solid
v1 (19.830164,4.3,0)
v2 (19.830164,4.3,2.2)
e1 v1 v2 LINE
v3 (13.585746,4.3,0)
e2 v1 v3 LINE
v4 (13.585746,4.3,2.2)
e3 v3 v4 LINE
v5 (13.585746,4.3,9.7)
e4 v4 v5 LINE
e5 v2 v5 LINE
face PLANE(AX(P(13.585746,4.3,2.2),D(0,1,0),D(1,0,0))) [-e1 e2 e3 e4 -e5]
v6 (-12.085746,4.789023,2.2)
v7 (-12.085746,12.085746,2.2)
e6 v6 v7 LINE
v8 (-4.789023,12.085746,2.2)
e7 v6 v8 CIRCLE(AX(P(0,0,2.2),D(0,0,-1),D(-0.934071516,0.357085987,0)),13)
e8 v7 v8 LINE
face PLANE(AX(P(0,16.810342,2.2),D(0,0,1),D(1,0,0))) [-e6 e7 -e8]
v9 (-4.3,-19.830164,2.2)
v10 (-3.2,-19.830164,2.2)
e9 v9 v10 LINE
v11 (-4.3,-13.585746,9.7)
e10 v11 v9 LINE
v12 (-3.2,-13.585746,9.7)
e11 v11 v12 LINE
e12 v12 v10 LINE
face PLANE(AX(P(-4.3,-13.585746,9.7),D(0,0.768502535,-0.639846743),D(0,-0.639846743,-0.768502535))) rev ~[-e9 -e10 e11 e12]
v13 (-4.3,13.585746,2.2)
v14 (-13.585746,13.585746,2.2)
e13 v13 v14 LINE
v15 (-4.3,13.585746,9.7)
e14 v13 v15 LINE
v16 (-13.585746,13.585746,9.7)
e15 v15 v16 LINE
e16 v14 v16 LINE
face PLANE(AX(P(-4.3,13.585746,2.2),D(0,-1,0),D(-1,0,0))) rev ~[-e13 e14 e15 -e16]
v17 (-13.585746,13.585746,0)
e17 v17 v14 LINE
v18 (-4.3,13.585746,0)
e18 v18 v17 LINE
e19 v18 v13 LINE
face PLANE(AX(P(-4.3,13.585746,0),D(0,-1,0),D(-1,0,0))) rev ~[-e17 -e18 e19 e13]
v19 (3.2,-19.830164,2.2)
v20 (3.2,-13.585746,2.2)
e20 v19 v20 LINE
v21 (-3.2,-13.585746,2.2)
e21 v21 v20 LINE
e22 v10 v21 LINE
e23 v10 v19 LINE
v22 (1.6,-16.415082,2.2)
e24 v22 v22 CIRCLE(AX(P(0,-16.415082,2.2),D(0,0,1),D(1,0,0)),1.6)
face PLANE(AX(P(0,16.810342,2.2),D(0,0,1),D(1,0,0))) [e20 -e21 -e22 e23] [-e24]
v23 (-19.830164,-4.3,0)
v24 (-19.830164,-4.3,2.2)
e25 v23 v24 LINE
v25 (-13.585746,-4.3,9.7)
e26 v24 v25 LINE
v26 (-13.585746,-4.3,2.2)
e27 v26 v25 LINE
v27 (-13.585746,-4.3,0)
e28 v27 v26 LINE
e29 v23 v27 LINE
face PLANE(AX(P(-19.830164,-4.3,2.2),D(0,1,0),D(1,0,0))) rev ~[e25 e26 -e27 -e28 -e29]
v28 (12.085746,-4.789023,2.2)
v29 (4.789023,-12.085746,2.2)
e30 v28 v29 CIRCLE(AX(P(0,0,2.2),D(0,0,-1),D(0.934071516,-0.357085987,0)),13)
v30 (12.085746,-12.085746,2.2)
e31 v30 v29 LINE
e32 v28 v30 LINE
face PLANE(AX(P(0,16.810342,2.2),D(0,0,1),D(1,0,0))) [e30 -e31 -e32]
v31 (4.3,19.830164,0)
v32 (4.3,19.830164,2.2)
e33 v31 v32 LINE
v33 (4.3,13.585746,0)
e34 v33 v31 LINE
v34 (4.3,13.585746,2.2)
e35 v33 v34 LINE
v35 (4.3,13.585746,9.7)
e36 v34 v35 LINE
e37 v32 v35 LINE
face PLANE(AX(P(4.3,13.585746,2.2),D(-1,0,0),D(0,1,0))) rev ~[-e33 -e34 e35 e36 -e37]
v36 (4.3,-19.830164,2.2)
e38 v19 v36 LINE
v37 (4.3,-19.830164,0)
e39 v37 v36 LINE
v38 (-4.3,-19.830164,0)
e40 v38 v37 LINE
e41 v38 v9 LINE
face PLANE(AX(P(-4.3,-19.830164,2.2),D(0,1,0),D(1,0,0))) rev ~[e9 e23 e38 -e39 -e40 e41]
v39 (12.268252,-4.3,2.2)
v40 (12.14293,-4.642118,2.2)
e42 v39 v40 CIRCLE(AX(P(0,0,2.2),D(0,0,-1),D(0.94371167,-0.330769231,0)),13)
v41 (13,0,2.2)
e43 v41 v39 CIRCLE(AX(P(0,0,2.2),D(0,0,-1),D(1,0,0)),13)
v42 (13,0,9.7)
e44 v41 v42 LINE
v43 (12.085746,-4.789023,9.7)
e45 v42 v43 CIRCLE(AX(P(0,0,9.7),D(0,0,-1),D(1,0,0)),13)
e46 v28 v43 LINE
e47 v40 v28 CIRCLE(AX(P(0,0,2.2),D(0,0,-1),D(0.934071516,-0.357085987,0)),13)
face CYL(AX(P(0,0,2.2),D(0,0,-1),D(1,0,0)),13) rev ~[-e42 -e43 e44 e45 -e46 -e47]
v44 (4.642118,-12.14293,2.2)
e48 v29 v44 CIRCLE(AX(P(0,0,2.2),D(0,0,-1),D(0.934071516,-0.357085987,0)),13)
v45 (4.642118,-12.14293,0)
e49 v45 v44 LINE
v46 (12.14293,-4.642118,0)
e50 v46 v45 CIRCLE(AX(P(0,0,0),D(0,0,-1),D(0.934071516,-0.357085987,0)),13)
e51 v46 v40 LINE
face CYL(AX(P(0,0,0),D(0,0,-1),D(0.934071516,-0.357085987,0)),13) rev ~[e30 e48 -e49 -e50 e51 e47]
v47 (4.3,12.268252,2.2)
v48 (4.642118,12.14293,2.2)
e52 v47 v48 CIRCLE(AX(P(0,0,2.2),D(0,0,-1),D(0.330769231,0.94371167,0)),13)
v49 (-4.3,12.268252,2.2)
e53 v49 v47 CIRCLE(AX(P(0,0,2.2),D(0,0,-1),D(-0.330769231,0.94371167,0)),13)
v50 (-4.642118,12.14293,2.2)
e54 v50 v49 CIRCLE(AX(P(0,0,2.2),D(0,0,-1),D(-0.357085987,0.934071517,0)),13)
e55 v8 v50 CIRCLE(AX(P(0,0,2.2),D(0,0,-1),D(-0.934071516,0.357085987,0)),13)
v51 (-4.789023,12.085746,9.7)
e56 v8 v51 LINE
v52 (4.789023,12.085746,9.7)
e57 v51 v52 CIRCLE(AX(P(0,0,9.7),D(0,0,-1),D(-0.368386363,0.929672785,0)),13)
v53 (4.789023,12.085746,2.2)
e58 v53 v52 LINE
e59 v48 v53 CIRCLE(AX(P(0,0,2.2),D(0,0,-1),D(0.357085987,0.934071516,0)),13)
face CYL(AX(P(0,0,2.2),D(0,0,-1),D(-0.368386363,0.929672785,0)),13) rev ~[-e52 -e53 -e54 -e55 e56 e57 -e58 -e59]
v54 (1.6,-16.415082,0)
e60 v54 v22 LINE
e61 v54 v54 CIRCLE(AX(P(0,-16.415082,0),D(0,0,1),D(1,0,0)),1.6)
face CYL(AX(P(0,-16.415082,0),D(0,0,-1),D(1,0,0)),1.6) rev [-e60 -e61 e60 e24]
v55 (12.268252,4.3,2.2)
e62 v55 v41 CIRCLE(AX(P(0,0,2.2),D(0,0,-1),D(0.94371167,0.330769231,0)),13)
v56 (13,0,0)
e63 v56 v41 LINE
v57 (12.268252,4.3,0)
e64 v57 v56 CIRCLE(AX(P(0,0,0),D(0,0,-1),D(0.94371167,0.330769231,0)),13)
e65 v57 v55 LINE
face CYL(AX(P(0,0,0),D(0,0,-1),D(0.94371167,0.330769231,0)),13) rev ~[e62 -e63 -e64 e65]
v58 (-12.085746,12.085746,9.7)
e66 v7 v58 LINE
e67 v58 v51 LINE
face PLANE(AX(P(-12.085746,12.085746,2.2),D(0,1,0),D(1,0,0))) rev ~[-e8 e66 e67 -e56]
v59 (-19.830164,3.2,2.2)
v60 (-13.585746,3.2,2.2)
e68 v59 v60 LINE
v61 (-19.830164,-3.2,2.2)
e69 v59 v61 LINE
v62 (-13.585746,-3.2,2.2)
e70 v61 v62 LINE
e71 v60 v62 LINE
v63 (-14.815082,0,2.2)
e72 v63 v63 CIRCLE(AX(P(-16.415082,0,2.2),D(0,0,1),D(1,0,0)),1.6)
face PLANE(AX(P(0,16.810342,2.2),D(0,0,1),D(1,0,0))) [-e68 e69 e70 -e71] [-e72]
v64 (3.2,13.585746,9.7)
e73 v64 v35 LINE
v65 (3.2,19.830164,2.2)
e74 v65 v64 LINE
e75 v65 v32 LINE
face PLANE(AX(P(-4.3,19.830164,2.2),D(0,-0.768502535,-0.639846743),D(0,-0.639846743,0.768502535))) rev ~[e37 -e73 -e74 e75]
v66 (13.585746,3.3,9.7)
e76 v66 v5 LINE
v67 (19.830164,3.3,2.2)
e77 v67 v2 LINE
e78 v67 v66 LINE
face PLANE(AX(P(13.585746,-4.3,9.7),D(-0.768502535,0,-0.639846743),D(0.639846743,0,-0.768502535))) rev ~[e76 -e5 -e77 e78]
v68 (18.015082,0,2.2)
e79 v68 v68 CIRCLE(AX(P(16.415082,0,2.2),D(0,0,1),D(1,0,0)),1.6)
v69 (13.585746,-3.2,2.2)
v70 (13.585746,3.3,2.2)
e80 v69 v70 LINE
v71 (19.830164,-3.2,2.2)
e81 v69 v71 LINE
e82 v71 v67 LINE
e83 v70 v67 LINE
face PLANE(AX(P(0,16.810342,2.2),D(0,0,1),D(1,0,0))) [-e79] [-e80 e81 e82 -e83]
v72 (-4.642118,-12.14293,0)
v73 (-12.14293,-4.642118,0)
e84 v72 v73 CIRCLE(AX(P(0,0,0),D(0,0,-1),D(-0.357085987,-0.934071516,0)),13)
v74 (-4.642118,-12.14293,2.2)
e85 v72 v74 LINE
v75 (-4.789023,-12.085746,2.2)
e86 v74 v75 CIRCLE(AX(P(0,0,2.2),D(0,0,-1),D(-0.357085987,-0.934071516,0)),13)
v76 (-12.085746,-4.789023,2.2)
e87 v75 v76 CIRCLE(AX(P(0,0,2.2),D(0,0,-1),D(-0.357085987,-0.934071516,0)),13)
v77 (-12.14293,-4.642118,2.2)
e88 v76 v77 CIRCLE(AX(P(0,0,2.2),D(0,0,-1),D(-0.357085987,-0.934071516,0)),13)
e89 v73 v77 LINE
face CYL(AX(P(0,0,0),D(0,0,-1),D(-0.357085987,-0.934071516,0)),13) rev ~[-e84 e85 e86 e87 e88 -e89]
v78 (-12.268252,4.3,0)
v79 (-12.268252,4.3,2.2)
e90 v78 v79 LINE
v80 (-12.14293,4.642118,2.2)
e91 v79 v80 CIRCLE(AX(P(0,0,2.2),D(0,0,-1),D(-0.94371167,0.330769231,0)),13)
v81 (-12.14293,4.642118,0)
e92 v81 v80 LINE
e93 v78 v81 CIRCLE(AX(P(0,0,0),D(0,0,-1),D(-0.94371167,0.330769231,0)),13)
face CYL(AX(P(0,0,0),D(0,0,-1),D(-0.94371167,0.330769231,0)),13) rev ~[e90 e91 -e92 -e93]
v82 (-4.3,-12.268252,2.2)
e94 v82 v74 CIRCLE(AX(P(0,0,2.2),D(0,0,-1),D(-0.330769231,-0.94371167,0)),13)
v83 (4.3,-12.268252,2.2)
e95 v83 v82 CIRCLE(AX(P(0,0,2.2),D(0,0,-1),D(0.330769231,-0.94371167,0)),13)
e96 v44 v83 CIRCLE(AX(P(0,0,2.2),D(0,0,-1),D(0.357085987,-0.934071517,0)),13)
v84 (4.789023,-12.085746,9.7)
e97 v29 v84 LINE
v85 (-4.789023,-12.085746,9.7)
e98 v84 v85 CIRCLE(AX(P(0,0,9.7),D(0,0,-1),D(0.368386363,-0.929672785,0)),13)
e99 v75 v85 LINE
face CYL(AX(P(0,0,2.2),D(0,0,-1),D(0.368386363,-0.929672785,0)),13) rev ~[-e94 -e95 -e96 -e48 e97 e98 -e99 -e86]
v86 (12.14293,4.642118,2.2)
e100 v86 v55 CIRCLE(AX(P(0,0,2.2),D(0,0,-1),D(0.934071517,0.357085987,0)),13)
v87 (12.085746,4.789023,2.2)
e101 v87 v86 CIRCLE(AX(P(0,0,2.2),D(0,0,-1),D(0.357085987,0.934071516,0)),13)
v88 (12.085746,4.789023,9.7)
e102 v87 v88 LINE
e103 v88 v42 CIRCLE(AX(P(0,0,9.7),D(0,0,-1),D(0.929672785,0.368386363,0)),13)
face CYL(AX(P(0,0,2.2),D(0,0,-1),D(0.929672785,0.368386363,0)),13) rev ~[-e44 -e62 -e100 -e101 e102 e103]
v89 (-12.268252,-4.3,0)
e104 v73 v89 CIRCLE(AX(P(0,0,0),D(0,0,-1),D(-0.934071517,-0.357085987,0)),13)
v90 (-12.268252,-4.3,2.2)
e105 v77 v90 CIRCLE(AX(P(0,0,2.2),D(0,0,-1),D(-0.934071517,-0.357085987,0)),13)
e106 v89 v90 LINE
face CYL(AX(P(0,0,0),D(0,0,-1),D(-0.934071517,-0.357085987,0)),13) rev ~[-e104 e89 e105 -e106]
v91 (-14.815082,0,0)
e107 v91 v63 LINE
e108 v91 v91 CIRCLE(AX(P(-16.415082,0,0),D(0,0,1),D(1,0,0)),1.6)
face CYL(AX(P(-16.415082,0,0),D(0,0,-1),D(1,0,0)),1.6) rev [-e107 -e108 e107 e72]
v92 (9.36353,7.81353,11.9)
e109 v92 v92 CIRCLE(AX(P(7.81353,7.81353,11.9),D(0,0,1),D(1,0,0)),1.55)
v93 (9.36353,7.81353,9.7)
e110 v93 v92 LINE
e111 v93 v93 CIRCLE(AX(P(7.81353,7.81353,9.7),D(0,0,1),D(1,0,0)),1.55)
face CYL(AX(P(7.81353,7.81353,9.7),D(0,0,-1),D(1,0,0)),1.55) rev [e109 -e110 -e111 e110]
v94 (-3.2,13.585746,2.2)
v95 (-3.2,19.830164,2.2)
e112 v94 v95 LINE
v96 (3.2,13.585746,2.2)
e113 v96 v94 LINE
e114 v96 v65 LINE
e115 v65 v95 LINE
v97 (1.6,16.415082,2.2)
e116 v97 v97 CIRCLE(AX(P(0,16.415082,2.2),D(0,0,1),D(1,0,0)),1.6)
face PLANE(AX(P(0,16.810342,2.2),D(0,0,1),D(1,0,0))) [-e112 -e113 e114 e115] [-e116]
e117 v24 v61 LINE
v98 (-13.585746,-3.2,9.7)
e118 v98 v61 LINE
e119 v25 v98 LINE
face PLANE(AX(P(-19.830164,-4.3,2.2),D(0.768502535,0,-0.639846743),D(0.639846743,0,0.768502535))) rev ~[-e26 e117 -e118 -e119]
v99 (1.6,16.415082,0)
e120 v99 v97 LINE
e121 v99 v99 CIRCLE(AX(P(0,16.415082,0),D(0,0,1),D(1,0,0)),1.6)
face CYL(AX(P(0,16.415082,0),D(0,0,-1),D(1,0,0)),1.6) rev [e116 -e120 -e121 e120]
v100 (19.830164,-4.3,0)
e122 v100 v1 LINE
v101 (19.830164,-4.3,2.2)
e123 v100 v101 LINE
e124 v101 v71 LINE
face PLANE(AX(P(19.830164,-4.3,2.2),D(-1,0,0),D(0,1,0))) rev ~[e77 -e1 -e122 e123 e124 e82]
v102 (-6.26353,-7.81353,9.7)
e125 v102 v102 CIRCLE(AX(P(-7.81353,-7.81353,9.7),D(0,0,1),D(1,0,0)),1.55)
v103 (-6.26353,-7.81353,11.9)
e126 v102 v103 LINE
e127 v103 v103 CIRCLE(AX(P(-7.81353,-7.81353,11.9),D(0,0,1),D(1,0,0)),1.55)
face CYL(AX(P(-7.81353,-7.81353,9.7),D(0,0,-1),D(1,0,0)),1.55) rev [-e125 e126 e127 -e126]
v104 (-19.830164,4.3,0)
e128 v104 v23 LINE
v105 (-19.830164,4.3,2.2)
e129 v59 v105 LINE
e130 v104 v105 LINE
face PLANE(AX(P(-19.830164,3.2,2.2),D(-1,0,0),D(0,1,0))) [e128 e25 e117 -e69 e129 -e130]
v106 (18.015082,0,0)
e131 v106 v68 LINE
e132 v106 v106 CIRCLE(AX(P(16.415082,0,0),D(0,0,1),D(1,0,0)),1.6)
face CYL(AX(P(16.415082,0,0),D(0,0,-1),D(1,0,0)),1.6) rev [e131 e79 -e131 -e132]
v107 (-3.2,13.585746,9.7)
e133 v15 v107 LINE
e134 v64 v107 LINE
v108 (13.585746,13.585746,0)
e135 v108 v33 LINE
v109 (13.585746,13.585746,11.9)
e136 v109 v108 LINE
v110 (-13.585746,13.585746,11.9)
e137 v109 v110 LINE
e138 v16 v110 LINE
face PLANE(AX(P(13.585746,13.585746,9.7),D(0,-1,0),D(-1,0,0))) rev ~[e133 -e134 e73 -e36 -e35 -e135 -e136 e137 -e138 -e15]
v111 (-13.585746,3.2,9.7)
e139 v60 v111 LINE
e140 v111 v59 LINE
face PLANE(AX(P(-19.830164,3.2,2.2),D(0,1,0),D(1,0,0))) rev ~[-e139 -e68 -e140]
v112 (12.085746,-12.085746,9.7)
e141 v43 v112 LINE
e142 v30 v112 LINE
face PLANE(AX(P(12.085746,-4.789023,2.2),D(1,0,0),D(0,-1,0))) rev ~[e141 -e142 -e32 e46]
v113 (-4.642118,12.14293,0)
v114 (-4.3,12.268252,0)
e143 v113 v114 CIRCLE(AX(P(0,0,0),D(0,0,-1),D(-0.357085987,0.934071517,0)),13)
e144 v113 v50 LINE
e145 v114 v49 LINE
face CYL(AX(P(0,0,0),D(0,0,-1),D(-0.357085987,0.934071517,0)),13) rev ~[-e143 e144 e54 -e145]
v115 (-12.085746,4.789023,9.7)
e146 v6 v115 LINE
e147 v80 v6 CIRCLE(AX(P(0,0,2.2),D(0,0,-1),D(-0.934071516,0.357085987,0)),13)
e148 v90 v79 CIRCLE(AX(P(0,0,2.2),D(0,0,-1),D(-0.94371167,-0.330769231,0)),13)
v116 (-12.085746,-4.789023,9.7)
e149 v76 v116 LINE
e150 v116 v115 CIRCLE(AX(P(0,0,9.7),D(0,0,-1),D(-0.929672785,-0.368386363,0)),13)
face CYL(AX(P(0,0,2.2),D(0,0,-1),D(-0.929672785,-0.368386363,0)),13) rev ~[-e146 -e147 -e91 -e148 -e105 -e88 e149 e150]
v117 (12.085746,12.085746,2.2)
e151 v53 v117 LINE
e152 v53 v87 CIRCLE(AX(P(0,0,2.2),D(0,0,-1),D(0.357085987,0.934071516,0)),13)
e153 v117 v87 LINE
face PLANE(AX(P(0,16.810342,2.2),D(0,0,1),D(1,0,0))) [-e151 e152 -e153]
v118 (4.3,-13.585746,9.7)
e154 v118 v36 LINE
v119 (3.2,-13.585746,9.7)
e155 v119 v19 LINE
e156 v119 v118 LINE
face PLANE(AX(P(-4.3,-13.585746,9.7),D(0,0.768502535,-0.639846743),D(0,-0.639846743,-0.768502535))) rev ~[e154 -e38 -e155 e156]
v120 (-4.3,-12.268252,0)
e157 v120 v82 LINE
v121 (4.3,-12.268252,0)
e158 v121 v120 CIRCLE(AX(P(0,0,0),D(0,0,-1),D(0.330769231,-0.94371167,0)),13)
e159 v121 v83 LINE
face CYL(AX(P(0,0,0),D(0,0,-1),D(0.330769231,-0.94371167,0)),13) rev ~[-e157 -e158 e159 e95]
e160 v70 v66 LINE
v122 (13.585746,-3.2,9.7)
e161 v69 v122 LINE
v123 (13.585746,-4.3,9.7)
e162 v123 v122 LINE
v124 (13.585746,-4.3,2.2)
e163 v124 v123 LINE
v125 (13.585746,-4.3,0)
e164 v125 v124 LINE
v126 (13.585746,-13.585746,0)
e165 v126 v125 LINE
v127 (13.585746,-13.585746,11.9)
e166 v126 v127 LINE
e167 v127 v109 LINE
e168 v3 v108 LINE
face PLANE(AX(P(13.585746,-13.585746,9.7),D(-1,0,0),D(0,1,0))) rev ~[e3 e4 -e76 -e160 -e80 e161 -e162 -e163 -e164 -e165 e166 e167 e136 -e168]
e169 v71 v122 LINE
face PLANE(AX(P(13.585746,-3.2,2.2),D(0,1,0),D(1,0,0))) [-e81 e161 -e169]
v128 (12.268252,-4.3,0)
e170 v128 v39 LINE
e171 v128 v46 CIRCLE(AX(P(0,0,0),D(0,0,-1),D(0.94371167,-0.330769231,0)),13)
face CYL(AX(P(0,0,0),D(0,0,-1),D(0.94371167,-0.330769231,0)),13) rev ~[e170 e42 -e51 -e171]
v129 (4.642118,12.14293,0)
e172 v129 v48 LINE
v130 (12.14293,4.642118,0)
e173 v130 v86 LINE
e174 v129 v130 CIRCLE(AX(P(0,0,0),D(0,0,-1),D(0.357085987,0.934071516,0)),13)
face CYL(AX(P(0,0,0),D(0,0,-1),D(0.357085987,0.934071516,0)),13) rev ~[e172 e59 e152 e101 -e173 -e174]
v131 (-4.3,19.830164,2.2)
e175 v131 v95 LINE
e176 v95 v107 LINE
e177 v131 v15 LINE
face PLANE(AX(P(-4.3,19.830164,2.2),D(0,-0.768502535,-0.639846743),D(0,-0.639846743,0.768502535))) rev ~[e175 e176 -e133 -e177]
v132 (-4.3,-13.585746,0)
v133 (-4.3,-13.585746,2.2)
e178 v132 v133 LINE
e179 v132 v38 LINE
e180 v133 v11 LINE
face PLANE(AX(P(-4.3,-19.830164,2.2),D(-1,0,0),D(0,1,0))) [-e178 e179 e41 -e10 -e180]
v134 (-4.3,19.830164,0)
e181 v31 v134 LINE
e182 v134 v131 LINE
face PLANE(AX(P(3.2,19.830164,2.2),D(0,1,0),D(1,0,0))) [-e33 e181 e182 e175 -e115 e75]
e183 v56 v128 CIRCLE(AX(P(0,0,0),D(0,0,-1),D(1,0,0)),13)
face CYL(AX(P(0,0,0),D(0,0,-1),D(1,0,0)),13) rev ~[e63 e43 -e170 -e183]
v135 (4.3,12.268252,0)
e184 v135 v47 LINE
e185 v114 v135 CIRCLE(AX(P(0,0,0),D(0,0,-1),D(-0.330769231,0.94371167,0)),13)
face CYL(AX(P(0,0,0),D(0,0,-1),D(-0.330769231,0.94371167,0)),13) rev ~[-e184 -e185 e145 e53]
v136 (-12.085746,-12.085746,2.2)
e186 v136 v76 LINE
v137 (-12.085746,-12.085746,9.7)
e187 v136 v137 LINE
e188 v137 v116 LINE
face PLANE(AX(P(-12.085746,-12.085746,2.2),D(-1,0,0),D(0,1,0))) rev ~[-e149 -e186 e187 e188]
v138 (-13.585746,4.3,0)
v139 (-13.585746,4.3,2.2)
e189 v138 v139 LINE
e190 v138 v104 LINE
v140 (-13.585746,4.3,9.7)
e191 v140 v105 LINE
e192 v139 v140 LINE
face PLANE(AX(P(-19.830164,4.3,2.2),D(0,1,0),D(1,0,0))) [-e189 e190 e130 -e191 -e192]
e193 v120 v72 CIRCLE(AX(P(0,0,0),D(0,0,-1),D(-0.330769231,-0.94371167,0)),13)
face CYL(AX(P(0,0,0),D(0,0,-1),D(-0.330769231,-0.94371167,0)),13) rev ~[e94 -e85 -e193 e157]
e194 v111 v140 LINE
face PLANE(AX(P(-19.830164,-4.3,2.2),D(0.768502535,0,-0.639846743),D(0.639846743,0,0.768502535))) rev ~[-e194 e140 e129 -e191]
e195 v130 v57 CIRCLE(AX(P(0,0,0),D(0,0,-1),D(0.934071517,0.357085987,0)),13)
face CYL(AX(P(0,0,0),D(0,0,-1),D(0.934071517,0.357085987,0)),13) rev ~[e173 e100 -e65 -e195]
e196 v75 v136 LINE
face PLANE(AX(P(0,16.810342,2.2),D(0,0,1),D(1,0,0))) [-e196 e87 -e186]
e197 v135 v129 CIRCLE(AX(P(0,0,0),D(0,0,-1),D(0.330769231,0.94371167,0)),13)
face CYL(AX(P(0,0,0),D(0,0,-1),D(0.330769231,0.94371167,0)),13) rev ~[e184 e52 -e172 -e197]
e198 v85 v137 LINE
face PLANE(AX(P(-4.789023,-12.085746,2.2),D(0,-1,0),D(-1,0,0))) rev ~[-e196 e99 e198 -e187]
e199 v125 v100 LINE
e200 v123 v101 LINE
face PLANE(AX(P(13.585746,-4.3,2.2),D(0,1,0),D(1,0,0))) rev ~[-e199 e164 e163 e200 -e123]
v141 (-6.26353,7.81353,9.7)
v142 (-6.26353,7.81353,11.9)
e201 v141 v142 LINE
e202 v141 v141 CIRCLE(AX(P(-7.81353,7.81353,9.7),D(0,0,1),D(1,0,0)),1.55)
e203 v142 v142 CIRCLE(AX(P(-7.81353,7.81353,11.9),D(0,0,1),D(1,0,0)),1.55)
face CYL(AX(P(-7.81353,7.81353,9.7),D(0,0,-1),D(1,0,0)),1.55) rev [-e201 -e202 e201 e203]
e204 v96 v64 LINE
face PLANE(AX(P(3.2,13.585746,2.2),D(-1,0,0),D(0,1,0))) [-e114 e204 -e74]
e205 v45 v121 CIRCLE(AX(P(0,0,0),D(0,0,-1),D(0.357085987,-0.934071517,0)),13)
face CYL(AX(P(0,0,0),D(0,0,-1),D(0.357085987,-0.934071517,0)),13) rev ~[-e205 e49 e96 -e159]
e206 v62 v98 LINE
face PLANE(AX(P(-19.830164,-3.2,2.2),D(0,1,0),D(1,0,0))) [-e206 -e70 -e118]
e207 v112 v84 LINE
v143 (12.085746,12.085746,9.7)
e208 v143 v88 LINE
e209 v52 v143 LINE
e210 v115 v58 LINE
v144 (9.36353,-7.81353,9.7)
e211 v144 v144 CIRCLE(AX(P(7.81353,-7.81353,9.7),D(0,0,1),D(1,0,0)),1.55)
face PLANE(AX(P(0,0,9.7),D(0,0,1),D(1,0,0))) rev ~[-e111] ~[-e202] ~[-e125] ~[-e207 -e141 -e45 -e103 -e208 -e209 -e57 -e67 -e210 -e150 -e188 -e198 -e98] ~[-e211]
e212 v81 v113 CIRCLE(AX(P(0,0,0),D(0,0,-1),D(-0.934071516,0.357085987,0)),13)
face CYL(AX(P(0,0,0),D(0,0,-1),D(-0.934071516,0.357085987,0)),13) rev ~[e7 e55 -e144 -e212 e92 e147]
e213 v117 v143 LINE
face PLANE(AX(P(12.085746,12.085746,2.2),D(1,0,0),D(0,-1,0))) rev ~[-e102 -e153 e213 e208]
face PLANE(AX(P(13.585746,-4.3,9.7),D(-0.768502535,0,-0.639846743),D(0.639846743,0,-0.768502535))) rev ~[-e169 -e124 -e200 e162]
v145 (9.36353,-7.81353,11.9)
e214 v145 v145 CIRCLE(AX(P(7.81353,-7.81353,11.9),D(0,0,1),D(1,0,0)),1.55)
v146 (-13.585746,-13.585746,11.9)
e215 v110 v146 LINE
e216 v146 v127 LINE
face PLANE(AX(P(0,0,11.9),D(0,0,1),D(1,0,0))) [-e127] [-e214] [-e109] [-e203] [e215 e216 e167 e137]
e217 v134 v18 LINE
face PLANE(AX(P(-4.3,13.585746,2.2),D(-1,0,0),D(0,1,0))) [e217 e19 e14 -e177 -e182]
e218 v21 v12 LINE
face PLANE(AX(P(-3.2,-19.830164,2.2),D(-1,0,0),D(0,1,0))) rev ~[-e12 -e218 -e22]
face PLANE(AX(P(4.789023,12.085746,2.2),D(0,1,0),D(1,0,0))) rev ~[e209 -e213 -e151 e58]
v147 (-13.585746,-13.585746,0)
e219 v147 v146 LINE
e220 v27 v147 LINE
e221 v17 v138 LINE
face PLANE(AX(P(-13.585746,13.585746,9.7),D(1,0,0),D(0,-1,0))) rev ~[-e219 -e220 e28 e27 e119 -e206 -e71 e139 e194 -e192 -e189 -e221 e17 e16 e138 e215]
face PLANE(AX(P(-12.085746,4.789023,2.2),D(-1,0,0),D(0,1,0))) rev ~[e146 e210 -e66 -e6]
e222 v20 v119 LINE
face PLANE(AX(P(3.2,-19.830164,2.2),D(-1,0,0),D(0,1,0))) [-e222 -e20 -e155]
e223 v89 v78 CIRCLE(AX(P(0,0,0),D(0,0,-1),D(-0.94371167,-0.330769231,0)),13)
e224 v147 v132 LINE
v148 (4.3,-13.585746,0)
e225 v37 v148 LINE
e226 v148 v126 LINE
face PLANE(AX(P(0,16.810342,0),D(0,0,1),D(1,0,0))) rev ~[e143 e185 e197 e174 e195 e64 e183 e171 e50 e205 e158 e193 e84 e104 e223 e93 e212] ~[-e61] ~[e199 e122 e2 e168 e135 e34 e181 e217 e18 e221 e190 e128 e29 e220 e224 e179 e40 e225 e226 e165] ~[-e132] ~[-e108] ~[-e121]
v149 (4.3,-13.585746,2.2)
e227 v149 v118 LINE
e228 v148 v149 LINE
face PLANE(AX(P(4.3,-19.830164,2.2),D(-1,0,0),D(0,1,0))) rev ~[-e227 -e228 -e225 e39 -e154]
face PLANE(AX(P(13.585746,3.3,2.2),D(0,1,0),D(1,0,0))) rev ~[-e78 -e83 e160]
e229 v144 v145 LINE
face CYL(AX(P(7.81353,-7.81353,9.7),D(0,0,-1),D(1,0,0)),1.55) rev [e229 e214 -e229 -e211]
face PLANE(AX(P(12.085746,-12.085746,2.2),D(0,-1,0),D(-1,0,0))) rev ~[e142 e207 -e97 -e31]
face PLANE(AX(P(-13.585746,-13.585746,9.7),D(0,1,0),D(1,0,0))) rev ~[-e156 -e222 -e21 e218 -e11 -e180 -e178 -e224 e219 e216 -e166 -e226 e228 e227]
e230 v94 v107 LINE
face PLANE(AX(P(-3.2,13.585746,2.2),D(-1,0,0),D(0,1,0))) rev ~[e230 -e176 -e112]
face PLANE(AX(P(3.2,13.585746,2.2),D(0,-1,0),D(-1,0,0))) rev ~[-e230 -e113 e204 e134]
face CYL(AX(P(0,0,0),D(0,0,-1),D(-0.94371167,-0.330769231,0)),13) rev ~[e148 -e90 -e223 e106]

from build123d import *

# Parameters (mm, degrees)
F0_R      = 1.6
F1_DEPTH  = 2.2
F2_W      = 1.1
F2_H      = 6.2444173613
F2_W_2    = 6.2444173613
F2_H_2    = 1
F2_H_3    = 1.1
F3_DEPTH  = 7.5
F5_DEPTH  = 24.1311635683
F7_DEPTH  = 24.1311635683
F9_DEPTH  = 24.1311635683
F11_DEPTH = 24.1311635683
F12_R     = 1.55
F13_DEPTH = 2.2


with BuildPart() as f1:
    # F0 (on Top) → F1 (new body)
    with BuildSketch(Plane.XY):
        with BuildLine():
            ThreePointArc((-4.3, 13.585746207), (0, 14.25), (4.3, 13.585746207))
            Line((4.3, 13.585746207), (4.3, 19.8301635683))
            Line((4.3, 19.8301635683), (0, 19.8301635683))
            Line((0, 19.8301635683), (-4.3, 19.8301635683))
            Line((-4.3, 19.8301635683), (-4.3, 13.585746207))
        make_face()
        with Locations((0, 16.4150817841)):
            Circle(F0_R, mode=Mode.SUBTRACT)
        with BuildLine():
            Line((-7.4573291436, 12.1429297142), (-4.642117831, 12.1429297142))
            ThreePointArc((-4.642117831, 12.1429297142), (-4.4714979846, 12.2067893311), (-4.3, 12.2682517092))
            Line((-4.3, 12.2682517092), (-4.3, 13.585746207))
            ThreePointArc((-4.3, 13.585746207), (-5.9227634602, 12.9608399803), (-7.4573291436, 12.1429297142))
        make_face()
        with BuildLine():
            ThreePointArc((-4.3, 12.2682517092), (0, 13), (4.3, 12.2682517092))
            Line((4.3, 12.2682517092), (4.3, 13.585746207))
            ThreePointArc((4.3, 13.585746207), (0, 14.25), (-4.3, 13.585746207))
            Line((-4.3, 13.585746207), (-4.3, 12.2682517092))
        make_face()
        with BuildLine():
            ThreePointArc((4.3, 12.2682517092), (4.4714979846, 12.2067893311), (4.642117831, 12.1429297142))
            Line((4.642117831, 12.1429297142), (7.4573291436, 12.1429297142))
            ThreePointArc((7.4573291436, 12.1429297142), (5.9227634602, 12.9608399803), (4.3, 13.585746207))
            Line((4.3, 13.585746207), (4.3, 12.2682517092))
        make_face()
        with BuildLine():
            ThreePointArc((12.2682517092, 4.3), (12.8157573366, 2.1809089596), (13, 0))
            ThreePointArc((13, 0), (12.8157573366, -2.1809089596), (12.2682517092, -4.3))
            Line((12.2682517092, -4.3), (13.585746207, -4.3))
            ThreePointArc((13.585746207, -4.3), (14.0829574921, -2.1755018445), (14.25, 0))
            ThreePointArc((14.25, 0), (14.0829574921, 2.1755018445), (13.585746207, 4.3))
            Line((13.585746207, 4.3), (12.2682517092, 4.3))
        make_face()
        with BuildLine():
            Line((19.8301635683, 4.3), (13.585746207, 4.3))
            ThreePointArc((13.585746207, 4.3), (14.0829574921, 2.1755018445), (14.25, 0))
            ThreePointArc((14.25, 0), (14.0829574921, -2.1755018445), (13.585746207, -4.3))
            Line((13.585746207, -4.3), (19.8301635683, -4.3))
            Line((19.8301635683, -4.3), (19.8301635683, 0))
            Line((19.8301635683, 0), (19.8301635683, 4.3))
        make_face()
        with Locations((16.4150817841, 0)):
            Circle(F0_R, mode=Mode.SUBTRACT)
        with BuildLine():
            Line((13.585746207, -4.3), (12.2682517092, -4.3))
            ThreePointArc((12.2682517092, -4.3), (12.2067893311, -4.4714979846), (12.1429297142, -4.642117831))
            Line((12.1429297142, -4.642117831), (12.1429297142, -7.4573291436))
            ThreePointArc((12.1429297142, -7.4573291436), (12.9608399803, -5.9227634602), (13.585746207, -4.3))
        make_face()
        with BuildLine():
            Line((4.3, -13.585746207), (4.3, -12.2682517092))
            ThreePointArc((4.3, -12.2682517092), (0, -13), (-4.3, -12.2682517092))
            Line((-4.3, -12.2682517092), (-4.3, -13.585746207))
            ThreePointArc((-4.3, -13.585746207), (0, -14.25), (4.3, -13.585746207))
        make_face()
        with BuildLine():
            ThreePointArc((-4.3, -12.2682517092), (-4.4714979846, -12.2067893311), (-4.642117831, -12.1429297142))
            Line((-4.642117831, -12.1429297142), (-7.4573291436, -12.1429297142))
            ThreePointArc((-7.4573291436, -12.1429297142), (-5.9227634602, -12.9608399803), (-4.3, -13.585746207))
            Line((-4.3, -13.585746207), (-4.3, -12.2682517092))
        make_face()
        with BuildLine():
            ThreePointArc((-12.2682517092, -4.3), (-13, 0), (-12.2682517092, 4.3))
            Line((-12.2682517092, 4.3), (-13.585746207, 4.3))
            ThreePointArc((-13.585746207, 4.3), (-14.25, 0), (-13.585746207, -4.3))
            Line((-13.585746207, -4.3), (-12.2682517092, -4.3))
        make_face()
        with BuildLine():
            ThreePointArc((-13.585746207, -4.3), (-14.25, 0), (-13.585746207, 4.3))
            Line((-13.585746207, 4.3), (-19.8301635683, 4.3))
            Line((-19.8301635683, 4.3), (-19.8301635683, 0))
            Line((-19.8301635683, 0), (-19.8301635683, -4.3))
            Line((-19.8301635683, -4.3), (-13.585746207, -4.3))
        make_face()
        with Locations((-16.4150817841, 0)):
            Circle(F0_R, mode=Mode.SUBTRACT)
        with BuildLine():
            Line((4.3, -19.8301635683), (4.3, -13.585746207))
            ThreePointArc((4.3, -13.585746207), (0, -14.25), (-4.3, -13.585746207))
            Line((-4.3, -13.585746207), (-4.3, -19.8301635683))
            Line((-4.3, -19.8301635683), (0, -19.8301635683))
            Line((0, -19.8301635683), (4.3, -19.8301635683))
        make_face()
        with Locations((0, -16.4150817841)):
            Circle(F0_R, mode=Mode.SUBTRACT)
        with BuildLine():
            ThreePointArc((-12.1429297142, 7.4573291436), (-10.0762716319, 10.0762716319), (-7.4573291436, 12.1429297142))
            Line((-7.4573291436, 12.1429297142), (-12.1429297142, 12.1429297142))
            Line((-12.1429297142, 12.1429297142), (-12.1429297142, 7.4573291436))
        make_face()
        with BuildLine():
            ThreePointArc((-4.3, -13.585746207), (-5.9227634602, -12.9608399803), (-7.4573291436, -12.1429297142))
            Line((-7.4573291436, -12.1429297142), (-12.1429297142, -12.1429297142))
            Line((-12.1429297142, -12.1429297142), (-12.1429297142, -7.4573291436))
            ThreePointArc((-12.1429297142, -7.4573291436), (-12.9608399803, -5.9227634602), (-13.585746207, -4.3))
            Line((-13.585746207, -4.3), (-13.585746207, -13.585746207))
            Line((-13.585746207, -13.585746207), (-4.3, -13.585746207))
        make_face()
        with BuildLine():
            Line((-12.1429297142, -12.1429297142), (-7.4573291436, -12.1429297142))
            ThreePointArc((-7.4573291436, -12.1429297142), (-10.0762716319, -10.0762716319), (-12.1429297142, -7.4573291436))
            Line((-12.1429297142, -7.4573291436), (-12.1429297142, -12.1429297142))
        make_face()
        with BuildLine():
            Line((-12.1429297142, -7.4573291436), (-12.1429297142, -4.642117831))
            ThreePointArc((-12.1429297142, -4.642117831), (-12.2067893311, -4.4714979846), (-12.2682517092, -4.3))
            Line((-12.2682517092, -4.3), (-13.585746207, -4.3))
            ThreePointArc((-13.585746207, -4.3), (-12.9608399803, -5.9227634602), (-12.1429297142, -7.4573291436))
        make_face()
        with BuildLine():
            Line((-12.1429297142, 12.1429297142), (-7.4573291436, 12.1429297142))
            ThreePointArc((-7.4573291436, 12.1429297142), (-5.9227634602, 12.9608399803), (-4.3, 13.585746207))
            Line((-4.3, 13.585746207), (-13.585746207, 13.585746207))
            Line((-13.585746207, 13.585746207), (-13.585746207, 4.3))
            ThreePointArc((-13.585746207, 4.3), (-12.9608399803, 5.9227634602), (-12.1429297142, 7.4573291436))
            Line((-12.1429297142, 7.4573291436), (-12.1429297142, 12.1429297142))
        make_face()
        with BuildLine():
            ThreePointArc((12.1429297142, 7.4573291436), (12.9608399803, 5.9227634602), (13.585746207, 4.3))
            Line((13.585746207, 4.3), (13.585746207, 13.585746207))
            Line((13.585746207, 13.585746207), (4.3, 13.585746207))
            ThreePointArc((4.3, 13.585746207), (5.9227634602, 12.9608399803), (7.4573291436, 12.1429297142))
            Line((7.4573291436, 12.1429297142), (12.1429297142, 12.1429297142))
            Line((12.1429297142, 12.1429297142), (12.1429297142, 7.4573291436))
        make_face()
        with BuildLine():
            ThreePointArc((7.4573291436, 12.1429297142), (10.0762716319, 10.0762716319), (12.1429297142, 7.4573291436))
            Line((12.1429297142, 7.4573291436), (12.1429297142, 12.1429297142))
            Line((12.1429297142, 12.1429297142), (7.4573291436, 12.1429297142))
        make_face()
        with BuildLine():
            ThreePointArc((4.642117831, 12.1429297142), (9.1923881554, 9.1923881554), (12.1429297142, 4.642117831))
            Line((12.1429297142, 4.642117831), (12.1429297142, 7.4573291436))
            ThreePointArc((12.1429297142, 7.4573291436), (10.0762716319, 10.0762716319), (7.4573291436, 12.1429297142))
            Line((7.4573291436, 12.1429297142), (4.642117831, 12.1429297142))
        make_face()
        with BuildLine():
            ThreePointArc((12.1429297142, 4.642117831), (12.2067893311, 4.4714979846), (12.2682517092, 4.3))
            Line((12.2682517092, 4.3), (13.585746207, 4.3))
            ThreePointArc((13.585746207, 4.3), (12.9608399803, 5.9227634602), (12.1429297142, 7.4573291436))
            Line((12.1429297142, 7.4573291436), (12.1429297142, 4.642117831))
        make_face()
        with BuildLine():
            ThreePointArc((-12.1429297142, 4.642117831), (-9.1923881554, 9.1923881554), (-4.642117831, 12.1429297142))
            Line((-4.642117831, 12.1429297142), (-7.4573291436, 12.1429297142))
            ThreePointArc((-7.4573291436, 12.1429297142), (-10.0762716319, 10.0762716319), (-12.1429297142, 7.4573291436))
            Line((-12.1429297142, 7.4573291436), (-12.1429297142, 4.642117831))
        make_face()
        with BuildLine():
            ThreePointArc((-12.2682517092, 4.3), (-12.2067893311, 4.4714979846), (-12.1429297142, 4.642117831))
            Line((-12.1429297142, 4.642117831), (-12.1429297142, 7.4573291436))
            ThreePointArc((-12.1429297142, 7.4573291436), (-12.9608399803, 5.9227634602), (-13.585746207, 4.3))
            Line((-13.585746207, 4.3), (-12.2682517092, 4.3))
        make_face()
        with BuildLine():
            Line((-7.4573291436, -12.1429297142), (-4.642117831, -12.1429297142))
            ThreePointArc((-4.642117831, -12.1429297142), (-9.1923881554, -9.1923881554), (-12.1429297142, -4.642117831))
            Line((-12.1429297142, -4.642117831), (-12.1429297142, -7.4573291436))
            ThreePointArc((-12.1429297142, -7.4573291436), (-10.0762716319, -10.0762716319), (-7.4573291436, -12.1429297142))
        make_face()
        with BuildLine():
            Line((12.1429297142, -7.4573291436), (12.1429297142, -4.642117831))
            ThreePointArc((12.1429297142, -4.642117831), (9.1923881554, -9.1923881554), (4.642117831, -12.1429297142))
            Line((4.642117831, -12.1429297142), (7.4573291436, -12.1429297142))
            ThreePointArc((7.4573291436, -12.1429297142), (10.0762716319, -10.0762716319), (12.1429297142, -7.4573291436))
        make_face()
        with BuildLine():
            Line((12.1429297142, -12.1429297142), (12.1429297142, -7.4573291436))
            ThreePointArc((12.1429297142, -7.4573291436), (10.0762716319, -10.0762716319), (7.4573291436, -12.1429297142))
            Line((7.4573291436, -12.1429297142), (12.1429297142, -12.1429297142))
        make_face()
        with BuildLine():
            Line((13.585746207, -13.585746207), (13.585746207, -4.3))
            ThreePointArc((13.585746207, -4.3), (12.9608399803, -5.9227634602), (12.1429297142, -7.4573291436))
            Line((12.1429297142, -7.4573291436), (12.1429297142, -12.1429297142))
            Line((12.1429297142, -12.1429297142), (7.4573291436, -12.1429297142))
            ThreePointArc((7.4573291436, -12.1429297142), (5.9227634602, -12.9608399803), (4.3, -13.585746207))
            Line((4.3, -13.585746207), (13.585746207, -13.585746207))
        make_face()
        with BuildLine():
            Line((7.4573291436, -12.1429297142), (4.642117831, -12.1429297142))
            ThreePointArc((4.642117831, -12.1429297142), (4.4714979846, -12.2067893311), (4.3, -12.2682517092))
            Line((4.3, -12.2682517092), (4.3, -13.585746207))
            ThreePointArc((4.3, -13.585746207), (5.9227634602, -12.9608399803), (7.4573291436, -12.1429297142))
        make_face()
    extrude(amount=F1_DEPTH)

    # F2 (on face) → F3 (join)
    with BuildSketch(Plane.XY.offset(2.2)):
        with Locations((3.75, 16.7079548876)):
            Rectangle(F2_W, F2_H)
        Polygon((-3.2, 13.585746207), (-4.3, 13.585746207), (-13.585746207, 13.585746207), (-13.585746207, 4.3), (-13.585746207, 3.2), (-13.585746207, -3.2), (-13.585746207, -4.3), (-13.585746207, -13.585746207), (-4.3, -13.585746207), (-3.2, -13.585746207), (3.2, -13.585746207), (4.3, -13.585746207), (13.585746207, -13.585746207), (13.585746207, -4.3), (13.585746207, -3.2), (13.585746207, 3.3), (13.585746207, 4.3), (13.585746207, 13.585746207), (4.3, 13.585746207), (3.2, 13.585746207), align=None)
        with BuildLine():
            Line((-12.085746207, 4.7890227209), (-12.085746207, 12.085746207))
            Line((-12.085746207, 12.085746207), (-4.7890227209, 12.085746207))
            ThreePointArc((-4.7890227209, 12.085746207), (0, 13), (4.7890227209, 12.085746207))
            Line((4.7890227209, 12.085746207), (12.085746207, 12.085746207))
            Line((12.085746207, 12.085746207), (12.085746207, 4.7890227209))
            ThreePointArc((12.085746207, 4.7890227209), (12.7693911501, 2.4377550441), (13, 0))
            ThreePointArc((13, 0), (12.7693911501, -2.437755044), (12.085746207, -4.7890227209))
            Line((12.085746207, -4.7890227209), (12.085746207, -12.085746207))
            Line((12.085746207, -12.085746207), (4.7890227209, -12.085746207))
            ThreePointArc((4.7890227209, -12.085746207), (0, -13), (-4.7890227209, -12.085746207))
            Line((-4.7890227209, -12.085746207), (-12.085746207, -12.085746207))
            Line((-12.085746207, -12.085746207), (-12.085746207, -4.7890227209))
            ThreePointArc((-12.085746207, -4.7890227209), (-13, 0), (-12.085746207, 4.7890227209))
        make_face(mode=Mode.SUBTRACT)
        with Locations((-3.75, 16.7079548876)):
            Rectangle(F2_W, F2_H)
        with Locations((16.7079548876, 3.8)):
            Rectangle(F2_W_2, F2_H_2)
        with Locations((16.7079548876, -3.75)):
            Rectangle(F2_W_2, F2_H_3)
        with Locations((-16.7079548876, 3.75)):
            Rectangle(F2_W_2, F2_H_3)
        with Locations((-16.7079548876, -3.75)):
            Rectangle(F2_W_2, F2_H_3)
        with Locations((-3.75, -16.7079548876)):
            Rectangle(F2_W, F2_H)
        with Locations((3.75, -16.7079548876)):
            Rectangle(F2_W, F2_H)
    extrude(amount=F3_DEPTH)

    # F4 (on face) → F5 (cut, through all)
    with BuildSketch(Plane.XZ.offset(4.3)):
        Polygon((-19.8301635683, 9.7), (-19.8301635683, 2.2), (-13.585746207, 9.7), align=None)
    extrude(amount=-F5_DEPTH, mode=Mode.SUBTRACT)

    # F6 (on face) → F7 (cut, through all)
    with BuildSketch(Plane.XZ.offset(4.3)):
        Polygon((13.585746207, 9.7), (19.8301635683, 2.2), (19.8301635683, 9.7), align=None)
    extrude(amount=-F7_DEPTH, mode=Mode.SUBTRACT)

    # F8 (on face) → F9 (cut, through all)
    with BuildSketch(Plane(origin=(-4.3, 0, 0), x_dir=(0, -1, 0), z_dir=(-1, 0, 0))):
        Polygon((13.585746207, 9.7), (19.8301635683, 2.2), (19.8301635683, 9.7), align=None)
    extrude(amount=-F9_DEPTH, mode=Mode.SUBTRACT)

    # F10 (on face) → F11 (cut, through all)
    with BuildSketch(Plane(origin=(-4.3, 0, 0), x_dir=(0, -1, 0), z_dir=(-1, 0, 0))):
        Polygon((-19.8301635683, 9.7), (-19.8301635683, 2.2), (-13.585746207, 9.7), align=None)
    extrude(amount=-F11_DEPTH, mode=Mode.SUBTRACT)

    # F12 (on face) → F13 (join)
    with BuildSketch(Plane.XY.offset(9.7)):
        Polygon((-4.3, 13.585746207), (-13.585746207, 13.585746207), (-13.585746207, 4.3), (-13.585746207, 3.2), (-13.585746207, -3.2), (-13.585746207, -4.3), (-13.585746207, -13.585746207), (-4.3, -13.585746207), (-3.2, -13.585746207), (3.2, -13.585746207), (4.3, -13.585746207), (13.585746207, -13.585746207), (13.585746207, -4.3), (13.585746207, -3.2), (13.585746207, 3.3), (13.585746207, 4.3), (13.585746207, 13.585746207), (4.3, 13.585746207), (3.2, 13.585746207), (-3.2, 13.585746207), align=None)
        with BuildLine():
            Line((12.085746207, -4.7890227209), (12.085746207, -12.085746207))
            Line((12.085746207, -12.085746207), (4.7890227209, -12.085746207))
            ThreePointArc((4.7890227209, -12.085746207), (0, -13), (-4.7890227209, -12.085746207))
            Line((-4.7890227209, -12.085746207), (-12.085746207, -12.085746207))
            Line((-12.085746207, -12.085746207), (-12.085746207, -4.7890227209))
            ThreePointArc((-12.085746207, -4.7890227209), (-13, 0), (-12.085746207, 4.7890227209))
            Line((-12.085746207, 4.7890227209), (-12.085746207, 12.085746207))
            Line((-12.085746207, 12.085746207), (-4.7890227209, 12.085746207))
            ThreePointArc((-4.7890227209, 12.085746207), (0, 13), (4.7890227209, 12.085746207))
            Line((4.7890227209, 12.085746207), (12.085746207, 12.085746207))
            Line((12.085746207, 12.085746207), (12.085746207, 4.7890227209))
            ThreePointArc((12.085746207, 4.7890227209), (13, 0), (12.085746207, -4.7890227209))
        make_face(mode=Mode.SUBTRACT)
        with BuildLine():
            Line((4.7890227209, -12.085746207), (12.085746207, -12.085746207))
            Line((12.085746207, -12.085746207), (12.085746207, -4.7890227209))
            ThreePointArc((12.085746207, -4.7890227209), (13, 0), (12.085746207, 4.7890227209))
            Line((12.085746207, 4.7890227209), (12.085746207, 12.085746207))
            Line((12.085746207, 12.085746207), (4.7890227209, 12.085746207))
            ThreePointArc((4.7890227209, 12.085746207), (0, 13), (-4.7890227209, 12.085746207))
            Line((-4.7890227209, 12.085746207), (-12.085746207, 12.085746207))
            Line((-12.085746207, 12.085746207), (-12.085746207, 4.7890227209))
            ThreePointArc((-12.085746207, 4.7890227209), (-13, 0), (-12.085746207, -4.7890227209))
            Line((-12.085746207, -4.7890227209), (-12.085746207, -12.085746207))
            Line((-12.085746207, -12.085746207), (-4.7890227209, -12.085746207))
            ThreePointArc((-4.7890227209, -12.085746207), (0, -13), (4.7890227209, -12.085746207))
        make_face()
        with Locations((-7.8135299321, -7.8135299321)):
            Circle(F12_R, mode=Mode.SUBTRACT)
        with Locations((7.8135299321, -7.8135299321)):
            Circle(F12_R, mode=Mode.SUBTRACT)
        with Locations((-7.8135299321, 7.8135299321)):
            Circle(F12_R, mode=Mode.SUBTRACT)
        with Locations((7.8135299321, 7.8135299321)):
            Circle(F12_R, mode=Mode.SUBTRACT)
    extrude(amount=F13_DEPTH)


solid = f1.part
